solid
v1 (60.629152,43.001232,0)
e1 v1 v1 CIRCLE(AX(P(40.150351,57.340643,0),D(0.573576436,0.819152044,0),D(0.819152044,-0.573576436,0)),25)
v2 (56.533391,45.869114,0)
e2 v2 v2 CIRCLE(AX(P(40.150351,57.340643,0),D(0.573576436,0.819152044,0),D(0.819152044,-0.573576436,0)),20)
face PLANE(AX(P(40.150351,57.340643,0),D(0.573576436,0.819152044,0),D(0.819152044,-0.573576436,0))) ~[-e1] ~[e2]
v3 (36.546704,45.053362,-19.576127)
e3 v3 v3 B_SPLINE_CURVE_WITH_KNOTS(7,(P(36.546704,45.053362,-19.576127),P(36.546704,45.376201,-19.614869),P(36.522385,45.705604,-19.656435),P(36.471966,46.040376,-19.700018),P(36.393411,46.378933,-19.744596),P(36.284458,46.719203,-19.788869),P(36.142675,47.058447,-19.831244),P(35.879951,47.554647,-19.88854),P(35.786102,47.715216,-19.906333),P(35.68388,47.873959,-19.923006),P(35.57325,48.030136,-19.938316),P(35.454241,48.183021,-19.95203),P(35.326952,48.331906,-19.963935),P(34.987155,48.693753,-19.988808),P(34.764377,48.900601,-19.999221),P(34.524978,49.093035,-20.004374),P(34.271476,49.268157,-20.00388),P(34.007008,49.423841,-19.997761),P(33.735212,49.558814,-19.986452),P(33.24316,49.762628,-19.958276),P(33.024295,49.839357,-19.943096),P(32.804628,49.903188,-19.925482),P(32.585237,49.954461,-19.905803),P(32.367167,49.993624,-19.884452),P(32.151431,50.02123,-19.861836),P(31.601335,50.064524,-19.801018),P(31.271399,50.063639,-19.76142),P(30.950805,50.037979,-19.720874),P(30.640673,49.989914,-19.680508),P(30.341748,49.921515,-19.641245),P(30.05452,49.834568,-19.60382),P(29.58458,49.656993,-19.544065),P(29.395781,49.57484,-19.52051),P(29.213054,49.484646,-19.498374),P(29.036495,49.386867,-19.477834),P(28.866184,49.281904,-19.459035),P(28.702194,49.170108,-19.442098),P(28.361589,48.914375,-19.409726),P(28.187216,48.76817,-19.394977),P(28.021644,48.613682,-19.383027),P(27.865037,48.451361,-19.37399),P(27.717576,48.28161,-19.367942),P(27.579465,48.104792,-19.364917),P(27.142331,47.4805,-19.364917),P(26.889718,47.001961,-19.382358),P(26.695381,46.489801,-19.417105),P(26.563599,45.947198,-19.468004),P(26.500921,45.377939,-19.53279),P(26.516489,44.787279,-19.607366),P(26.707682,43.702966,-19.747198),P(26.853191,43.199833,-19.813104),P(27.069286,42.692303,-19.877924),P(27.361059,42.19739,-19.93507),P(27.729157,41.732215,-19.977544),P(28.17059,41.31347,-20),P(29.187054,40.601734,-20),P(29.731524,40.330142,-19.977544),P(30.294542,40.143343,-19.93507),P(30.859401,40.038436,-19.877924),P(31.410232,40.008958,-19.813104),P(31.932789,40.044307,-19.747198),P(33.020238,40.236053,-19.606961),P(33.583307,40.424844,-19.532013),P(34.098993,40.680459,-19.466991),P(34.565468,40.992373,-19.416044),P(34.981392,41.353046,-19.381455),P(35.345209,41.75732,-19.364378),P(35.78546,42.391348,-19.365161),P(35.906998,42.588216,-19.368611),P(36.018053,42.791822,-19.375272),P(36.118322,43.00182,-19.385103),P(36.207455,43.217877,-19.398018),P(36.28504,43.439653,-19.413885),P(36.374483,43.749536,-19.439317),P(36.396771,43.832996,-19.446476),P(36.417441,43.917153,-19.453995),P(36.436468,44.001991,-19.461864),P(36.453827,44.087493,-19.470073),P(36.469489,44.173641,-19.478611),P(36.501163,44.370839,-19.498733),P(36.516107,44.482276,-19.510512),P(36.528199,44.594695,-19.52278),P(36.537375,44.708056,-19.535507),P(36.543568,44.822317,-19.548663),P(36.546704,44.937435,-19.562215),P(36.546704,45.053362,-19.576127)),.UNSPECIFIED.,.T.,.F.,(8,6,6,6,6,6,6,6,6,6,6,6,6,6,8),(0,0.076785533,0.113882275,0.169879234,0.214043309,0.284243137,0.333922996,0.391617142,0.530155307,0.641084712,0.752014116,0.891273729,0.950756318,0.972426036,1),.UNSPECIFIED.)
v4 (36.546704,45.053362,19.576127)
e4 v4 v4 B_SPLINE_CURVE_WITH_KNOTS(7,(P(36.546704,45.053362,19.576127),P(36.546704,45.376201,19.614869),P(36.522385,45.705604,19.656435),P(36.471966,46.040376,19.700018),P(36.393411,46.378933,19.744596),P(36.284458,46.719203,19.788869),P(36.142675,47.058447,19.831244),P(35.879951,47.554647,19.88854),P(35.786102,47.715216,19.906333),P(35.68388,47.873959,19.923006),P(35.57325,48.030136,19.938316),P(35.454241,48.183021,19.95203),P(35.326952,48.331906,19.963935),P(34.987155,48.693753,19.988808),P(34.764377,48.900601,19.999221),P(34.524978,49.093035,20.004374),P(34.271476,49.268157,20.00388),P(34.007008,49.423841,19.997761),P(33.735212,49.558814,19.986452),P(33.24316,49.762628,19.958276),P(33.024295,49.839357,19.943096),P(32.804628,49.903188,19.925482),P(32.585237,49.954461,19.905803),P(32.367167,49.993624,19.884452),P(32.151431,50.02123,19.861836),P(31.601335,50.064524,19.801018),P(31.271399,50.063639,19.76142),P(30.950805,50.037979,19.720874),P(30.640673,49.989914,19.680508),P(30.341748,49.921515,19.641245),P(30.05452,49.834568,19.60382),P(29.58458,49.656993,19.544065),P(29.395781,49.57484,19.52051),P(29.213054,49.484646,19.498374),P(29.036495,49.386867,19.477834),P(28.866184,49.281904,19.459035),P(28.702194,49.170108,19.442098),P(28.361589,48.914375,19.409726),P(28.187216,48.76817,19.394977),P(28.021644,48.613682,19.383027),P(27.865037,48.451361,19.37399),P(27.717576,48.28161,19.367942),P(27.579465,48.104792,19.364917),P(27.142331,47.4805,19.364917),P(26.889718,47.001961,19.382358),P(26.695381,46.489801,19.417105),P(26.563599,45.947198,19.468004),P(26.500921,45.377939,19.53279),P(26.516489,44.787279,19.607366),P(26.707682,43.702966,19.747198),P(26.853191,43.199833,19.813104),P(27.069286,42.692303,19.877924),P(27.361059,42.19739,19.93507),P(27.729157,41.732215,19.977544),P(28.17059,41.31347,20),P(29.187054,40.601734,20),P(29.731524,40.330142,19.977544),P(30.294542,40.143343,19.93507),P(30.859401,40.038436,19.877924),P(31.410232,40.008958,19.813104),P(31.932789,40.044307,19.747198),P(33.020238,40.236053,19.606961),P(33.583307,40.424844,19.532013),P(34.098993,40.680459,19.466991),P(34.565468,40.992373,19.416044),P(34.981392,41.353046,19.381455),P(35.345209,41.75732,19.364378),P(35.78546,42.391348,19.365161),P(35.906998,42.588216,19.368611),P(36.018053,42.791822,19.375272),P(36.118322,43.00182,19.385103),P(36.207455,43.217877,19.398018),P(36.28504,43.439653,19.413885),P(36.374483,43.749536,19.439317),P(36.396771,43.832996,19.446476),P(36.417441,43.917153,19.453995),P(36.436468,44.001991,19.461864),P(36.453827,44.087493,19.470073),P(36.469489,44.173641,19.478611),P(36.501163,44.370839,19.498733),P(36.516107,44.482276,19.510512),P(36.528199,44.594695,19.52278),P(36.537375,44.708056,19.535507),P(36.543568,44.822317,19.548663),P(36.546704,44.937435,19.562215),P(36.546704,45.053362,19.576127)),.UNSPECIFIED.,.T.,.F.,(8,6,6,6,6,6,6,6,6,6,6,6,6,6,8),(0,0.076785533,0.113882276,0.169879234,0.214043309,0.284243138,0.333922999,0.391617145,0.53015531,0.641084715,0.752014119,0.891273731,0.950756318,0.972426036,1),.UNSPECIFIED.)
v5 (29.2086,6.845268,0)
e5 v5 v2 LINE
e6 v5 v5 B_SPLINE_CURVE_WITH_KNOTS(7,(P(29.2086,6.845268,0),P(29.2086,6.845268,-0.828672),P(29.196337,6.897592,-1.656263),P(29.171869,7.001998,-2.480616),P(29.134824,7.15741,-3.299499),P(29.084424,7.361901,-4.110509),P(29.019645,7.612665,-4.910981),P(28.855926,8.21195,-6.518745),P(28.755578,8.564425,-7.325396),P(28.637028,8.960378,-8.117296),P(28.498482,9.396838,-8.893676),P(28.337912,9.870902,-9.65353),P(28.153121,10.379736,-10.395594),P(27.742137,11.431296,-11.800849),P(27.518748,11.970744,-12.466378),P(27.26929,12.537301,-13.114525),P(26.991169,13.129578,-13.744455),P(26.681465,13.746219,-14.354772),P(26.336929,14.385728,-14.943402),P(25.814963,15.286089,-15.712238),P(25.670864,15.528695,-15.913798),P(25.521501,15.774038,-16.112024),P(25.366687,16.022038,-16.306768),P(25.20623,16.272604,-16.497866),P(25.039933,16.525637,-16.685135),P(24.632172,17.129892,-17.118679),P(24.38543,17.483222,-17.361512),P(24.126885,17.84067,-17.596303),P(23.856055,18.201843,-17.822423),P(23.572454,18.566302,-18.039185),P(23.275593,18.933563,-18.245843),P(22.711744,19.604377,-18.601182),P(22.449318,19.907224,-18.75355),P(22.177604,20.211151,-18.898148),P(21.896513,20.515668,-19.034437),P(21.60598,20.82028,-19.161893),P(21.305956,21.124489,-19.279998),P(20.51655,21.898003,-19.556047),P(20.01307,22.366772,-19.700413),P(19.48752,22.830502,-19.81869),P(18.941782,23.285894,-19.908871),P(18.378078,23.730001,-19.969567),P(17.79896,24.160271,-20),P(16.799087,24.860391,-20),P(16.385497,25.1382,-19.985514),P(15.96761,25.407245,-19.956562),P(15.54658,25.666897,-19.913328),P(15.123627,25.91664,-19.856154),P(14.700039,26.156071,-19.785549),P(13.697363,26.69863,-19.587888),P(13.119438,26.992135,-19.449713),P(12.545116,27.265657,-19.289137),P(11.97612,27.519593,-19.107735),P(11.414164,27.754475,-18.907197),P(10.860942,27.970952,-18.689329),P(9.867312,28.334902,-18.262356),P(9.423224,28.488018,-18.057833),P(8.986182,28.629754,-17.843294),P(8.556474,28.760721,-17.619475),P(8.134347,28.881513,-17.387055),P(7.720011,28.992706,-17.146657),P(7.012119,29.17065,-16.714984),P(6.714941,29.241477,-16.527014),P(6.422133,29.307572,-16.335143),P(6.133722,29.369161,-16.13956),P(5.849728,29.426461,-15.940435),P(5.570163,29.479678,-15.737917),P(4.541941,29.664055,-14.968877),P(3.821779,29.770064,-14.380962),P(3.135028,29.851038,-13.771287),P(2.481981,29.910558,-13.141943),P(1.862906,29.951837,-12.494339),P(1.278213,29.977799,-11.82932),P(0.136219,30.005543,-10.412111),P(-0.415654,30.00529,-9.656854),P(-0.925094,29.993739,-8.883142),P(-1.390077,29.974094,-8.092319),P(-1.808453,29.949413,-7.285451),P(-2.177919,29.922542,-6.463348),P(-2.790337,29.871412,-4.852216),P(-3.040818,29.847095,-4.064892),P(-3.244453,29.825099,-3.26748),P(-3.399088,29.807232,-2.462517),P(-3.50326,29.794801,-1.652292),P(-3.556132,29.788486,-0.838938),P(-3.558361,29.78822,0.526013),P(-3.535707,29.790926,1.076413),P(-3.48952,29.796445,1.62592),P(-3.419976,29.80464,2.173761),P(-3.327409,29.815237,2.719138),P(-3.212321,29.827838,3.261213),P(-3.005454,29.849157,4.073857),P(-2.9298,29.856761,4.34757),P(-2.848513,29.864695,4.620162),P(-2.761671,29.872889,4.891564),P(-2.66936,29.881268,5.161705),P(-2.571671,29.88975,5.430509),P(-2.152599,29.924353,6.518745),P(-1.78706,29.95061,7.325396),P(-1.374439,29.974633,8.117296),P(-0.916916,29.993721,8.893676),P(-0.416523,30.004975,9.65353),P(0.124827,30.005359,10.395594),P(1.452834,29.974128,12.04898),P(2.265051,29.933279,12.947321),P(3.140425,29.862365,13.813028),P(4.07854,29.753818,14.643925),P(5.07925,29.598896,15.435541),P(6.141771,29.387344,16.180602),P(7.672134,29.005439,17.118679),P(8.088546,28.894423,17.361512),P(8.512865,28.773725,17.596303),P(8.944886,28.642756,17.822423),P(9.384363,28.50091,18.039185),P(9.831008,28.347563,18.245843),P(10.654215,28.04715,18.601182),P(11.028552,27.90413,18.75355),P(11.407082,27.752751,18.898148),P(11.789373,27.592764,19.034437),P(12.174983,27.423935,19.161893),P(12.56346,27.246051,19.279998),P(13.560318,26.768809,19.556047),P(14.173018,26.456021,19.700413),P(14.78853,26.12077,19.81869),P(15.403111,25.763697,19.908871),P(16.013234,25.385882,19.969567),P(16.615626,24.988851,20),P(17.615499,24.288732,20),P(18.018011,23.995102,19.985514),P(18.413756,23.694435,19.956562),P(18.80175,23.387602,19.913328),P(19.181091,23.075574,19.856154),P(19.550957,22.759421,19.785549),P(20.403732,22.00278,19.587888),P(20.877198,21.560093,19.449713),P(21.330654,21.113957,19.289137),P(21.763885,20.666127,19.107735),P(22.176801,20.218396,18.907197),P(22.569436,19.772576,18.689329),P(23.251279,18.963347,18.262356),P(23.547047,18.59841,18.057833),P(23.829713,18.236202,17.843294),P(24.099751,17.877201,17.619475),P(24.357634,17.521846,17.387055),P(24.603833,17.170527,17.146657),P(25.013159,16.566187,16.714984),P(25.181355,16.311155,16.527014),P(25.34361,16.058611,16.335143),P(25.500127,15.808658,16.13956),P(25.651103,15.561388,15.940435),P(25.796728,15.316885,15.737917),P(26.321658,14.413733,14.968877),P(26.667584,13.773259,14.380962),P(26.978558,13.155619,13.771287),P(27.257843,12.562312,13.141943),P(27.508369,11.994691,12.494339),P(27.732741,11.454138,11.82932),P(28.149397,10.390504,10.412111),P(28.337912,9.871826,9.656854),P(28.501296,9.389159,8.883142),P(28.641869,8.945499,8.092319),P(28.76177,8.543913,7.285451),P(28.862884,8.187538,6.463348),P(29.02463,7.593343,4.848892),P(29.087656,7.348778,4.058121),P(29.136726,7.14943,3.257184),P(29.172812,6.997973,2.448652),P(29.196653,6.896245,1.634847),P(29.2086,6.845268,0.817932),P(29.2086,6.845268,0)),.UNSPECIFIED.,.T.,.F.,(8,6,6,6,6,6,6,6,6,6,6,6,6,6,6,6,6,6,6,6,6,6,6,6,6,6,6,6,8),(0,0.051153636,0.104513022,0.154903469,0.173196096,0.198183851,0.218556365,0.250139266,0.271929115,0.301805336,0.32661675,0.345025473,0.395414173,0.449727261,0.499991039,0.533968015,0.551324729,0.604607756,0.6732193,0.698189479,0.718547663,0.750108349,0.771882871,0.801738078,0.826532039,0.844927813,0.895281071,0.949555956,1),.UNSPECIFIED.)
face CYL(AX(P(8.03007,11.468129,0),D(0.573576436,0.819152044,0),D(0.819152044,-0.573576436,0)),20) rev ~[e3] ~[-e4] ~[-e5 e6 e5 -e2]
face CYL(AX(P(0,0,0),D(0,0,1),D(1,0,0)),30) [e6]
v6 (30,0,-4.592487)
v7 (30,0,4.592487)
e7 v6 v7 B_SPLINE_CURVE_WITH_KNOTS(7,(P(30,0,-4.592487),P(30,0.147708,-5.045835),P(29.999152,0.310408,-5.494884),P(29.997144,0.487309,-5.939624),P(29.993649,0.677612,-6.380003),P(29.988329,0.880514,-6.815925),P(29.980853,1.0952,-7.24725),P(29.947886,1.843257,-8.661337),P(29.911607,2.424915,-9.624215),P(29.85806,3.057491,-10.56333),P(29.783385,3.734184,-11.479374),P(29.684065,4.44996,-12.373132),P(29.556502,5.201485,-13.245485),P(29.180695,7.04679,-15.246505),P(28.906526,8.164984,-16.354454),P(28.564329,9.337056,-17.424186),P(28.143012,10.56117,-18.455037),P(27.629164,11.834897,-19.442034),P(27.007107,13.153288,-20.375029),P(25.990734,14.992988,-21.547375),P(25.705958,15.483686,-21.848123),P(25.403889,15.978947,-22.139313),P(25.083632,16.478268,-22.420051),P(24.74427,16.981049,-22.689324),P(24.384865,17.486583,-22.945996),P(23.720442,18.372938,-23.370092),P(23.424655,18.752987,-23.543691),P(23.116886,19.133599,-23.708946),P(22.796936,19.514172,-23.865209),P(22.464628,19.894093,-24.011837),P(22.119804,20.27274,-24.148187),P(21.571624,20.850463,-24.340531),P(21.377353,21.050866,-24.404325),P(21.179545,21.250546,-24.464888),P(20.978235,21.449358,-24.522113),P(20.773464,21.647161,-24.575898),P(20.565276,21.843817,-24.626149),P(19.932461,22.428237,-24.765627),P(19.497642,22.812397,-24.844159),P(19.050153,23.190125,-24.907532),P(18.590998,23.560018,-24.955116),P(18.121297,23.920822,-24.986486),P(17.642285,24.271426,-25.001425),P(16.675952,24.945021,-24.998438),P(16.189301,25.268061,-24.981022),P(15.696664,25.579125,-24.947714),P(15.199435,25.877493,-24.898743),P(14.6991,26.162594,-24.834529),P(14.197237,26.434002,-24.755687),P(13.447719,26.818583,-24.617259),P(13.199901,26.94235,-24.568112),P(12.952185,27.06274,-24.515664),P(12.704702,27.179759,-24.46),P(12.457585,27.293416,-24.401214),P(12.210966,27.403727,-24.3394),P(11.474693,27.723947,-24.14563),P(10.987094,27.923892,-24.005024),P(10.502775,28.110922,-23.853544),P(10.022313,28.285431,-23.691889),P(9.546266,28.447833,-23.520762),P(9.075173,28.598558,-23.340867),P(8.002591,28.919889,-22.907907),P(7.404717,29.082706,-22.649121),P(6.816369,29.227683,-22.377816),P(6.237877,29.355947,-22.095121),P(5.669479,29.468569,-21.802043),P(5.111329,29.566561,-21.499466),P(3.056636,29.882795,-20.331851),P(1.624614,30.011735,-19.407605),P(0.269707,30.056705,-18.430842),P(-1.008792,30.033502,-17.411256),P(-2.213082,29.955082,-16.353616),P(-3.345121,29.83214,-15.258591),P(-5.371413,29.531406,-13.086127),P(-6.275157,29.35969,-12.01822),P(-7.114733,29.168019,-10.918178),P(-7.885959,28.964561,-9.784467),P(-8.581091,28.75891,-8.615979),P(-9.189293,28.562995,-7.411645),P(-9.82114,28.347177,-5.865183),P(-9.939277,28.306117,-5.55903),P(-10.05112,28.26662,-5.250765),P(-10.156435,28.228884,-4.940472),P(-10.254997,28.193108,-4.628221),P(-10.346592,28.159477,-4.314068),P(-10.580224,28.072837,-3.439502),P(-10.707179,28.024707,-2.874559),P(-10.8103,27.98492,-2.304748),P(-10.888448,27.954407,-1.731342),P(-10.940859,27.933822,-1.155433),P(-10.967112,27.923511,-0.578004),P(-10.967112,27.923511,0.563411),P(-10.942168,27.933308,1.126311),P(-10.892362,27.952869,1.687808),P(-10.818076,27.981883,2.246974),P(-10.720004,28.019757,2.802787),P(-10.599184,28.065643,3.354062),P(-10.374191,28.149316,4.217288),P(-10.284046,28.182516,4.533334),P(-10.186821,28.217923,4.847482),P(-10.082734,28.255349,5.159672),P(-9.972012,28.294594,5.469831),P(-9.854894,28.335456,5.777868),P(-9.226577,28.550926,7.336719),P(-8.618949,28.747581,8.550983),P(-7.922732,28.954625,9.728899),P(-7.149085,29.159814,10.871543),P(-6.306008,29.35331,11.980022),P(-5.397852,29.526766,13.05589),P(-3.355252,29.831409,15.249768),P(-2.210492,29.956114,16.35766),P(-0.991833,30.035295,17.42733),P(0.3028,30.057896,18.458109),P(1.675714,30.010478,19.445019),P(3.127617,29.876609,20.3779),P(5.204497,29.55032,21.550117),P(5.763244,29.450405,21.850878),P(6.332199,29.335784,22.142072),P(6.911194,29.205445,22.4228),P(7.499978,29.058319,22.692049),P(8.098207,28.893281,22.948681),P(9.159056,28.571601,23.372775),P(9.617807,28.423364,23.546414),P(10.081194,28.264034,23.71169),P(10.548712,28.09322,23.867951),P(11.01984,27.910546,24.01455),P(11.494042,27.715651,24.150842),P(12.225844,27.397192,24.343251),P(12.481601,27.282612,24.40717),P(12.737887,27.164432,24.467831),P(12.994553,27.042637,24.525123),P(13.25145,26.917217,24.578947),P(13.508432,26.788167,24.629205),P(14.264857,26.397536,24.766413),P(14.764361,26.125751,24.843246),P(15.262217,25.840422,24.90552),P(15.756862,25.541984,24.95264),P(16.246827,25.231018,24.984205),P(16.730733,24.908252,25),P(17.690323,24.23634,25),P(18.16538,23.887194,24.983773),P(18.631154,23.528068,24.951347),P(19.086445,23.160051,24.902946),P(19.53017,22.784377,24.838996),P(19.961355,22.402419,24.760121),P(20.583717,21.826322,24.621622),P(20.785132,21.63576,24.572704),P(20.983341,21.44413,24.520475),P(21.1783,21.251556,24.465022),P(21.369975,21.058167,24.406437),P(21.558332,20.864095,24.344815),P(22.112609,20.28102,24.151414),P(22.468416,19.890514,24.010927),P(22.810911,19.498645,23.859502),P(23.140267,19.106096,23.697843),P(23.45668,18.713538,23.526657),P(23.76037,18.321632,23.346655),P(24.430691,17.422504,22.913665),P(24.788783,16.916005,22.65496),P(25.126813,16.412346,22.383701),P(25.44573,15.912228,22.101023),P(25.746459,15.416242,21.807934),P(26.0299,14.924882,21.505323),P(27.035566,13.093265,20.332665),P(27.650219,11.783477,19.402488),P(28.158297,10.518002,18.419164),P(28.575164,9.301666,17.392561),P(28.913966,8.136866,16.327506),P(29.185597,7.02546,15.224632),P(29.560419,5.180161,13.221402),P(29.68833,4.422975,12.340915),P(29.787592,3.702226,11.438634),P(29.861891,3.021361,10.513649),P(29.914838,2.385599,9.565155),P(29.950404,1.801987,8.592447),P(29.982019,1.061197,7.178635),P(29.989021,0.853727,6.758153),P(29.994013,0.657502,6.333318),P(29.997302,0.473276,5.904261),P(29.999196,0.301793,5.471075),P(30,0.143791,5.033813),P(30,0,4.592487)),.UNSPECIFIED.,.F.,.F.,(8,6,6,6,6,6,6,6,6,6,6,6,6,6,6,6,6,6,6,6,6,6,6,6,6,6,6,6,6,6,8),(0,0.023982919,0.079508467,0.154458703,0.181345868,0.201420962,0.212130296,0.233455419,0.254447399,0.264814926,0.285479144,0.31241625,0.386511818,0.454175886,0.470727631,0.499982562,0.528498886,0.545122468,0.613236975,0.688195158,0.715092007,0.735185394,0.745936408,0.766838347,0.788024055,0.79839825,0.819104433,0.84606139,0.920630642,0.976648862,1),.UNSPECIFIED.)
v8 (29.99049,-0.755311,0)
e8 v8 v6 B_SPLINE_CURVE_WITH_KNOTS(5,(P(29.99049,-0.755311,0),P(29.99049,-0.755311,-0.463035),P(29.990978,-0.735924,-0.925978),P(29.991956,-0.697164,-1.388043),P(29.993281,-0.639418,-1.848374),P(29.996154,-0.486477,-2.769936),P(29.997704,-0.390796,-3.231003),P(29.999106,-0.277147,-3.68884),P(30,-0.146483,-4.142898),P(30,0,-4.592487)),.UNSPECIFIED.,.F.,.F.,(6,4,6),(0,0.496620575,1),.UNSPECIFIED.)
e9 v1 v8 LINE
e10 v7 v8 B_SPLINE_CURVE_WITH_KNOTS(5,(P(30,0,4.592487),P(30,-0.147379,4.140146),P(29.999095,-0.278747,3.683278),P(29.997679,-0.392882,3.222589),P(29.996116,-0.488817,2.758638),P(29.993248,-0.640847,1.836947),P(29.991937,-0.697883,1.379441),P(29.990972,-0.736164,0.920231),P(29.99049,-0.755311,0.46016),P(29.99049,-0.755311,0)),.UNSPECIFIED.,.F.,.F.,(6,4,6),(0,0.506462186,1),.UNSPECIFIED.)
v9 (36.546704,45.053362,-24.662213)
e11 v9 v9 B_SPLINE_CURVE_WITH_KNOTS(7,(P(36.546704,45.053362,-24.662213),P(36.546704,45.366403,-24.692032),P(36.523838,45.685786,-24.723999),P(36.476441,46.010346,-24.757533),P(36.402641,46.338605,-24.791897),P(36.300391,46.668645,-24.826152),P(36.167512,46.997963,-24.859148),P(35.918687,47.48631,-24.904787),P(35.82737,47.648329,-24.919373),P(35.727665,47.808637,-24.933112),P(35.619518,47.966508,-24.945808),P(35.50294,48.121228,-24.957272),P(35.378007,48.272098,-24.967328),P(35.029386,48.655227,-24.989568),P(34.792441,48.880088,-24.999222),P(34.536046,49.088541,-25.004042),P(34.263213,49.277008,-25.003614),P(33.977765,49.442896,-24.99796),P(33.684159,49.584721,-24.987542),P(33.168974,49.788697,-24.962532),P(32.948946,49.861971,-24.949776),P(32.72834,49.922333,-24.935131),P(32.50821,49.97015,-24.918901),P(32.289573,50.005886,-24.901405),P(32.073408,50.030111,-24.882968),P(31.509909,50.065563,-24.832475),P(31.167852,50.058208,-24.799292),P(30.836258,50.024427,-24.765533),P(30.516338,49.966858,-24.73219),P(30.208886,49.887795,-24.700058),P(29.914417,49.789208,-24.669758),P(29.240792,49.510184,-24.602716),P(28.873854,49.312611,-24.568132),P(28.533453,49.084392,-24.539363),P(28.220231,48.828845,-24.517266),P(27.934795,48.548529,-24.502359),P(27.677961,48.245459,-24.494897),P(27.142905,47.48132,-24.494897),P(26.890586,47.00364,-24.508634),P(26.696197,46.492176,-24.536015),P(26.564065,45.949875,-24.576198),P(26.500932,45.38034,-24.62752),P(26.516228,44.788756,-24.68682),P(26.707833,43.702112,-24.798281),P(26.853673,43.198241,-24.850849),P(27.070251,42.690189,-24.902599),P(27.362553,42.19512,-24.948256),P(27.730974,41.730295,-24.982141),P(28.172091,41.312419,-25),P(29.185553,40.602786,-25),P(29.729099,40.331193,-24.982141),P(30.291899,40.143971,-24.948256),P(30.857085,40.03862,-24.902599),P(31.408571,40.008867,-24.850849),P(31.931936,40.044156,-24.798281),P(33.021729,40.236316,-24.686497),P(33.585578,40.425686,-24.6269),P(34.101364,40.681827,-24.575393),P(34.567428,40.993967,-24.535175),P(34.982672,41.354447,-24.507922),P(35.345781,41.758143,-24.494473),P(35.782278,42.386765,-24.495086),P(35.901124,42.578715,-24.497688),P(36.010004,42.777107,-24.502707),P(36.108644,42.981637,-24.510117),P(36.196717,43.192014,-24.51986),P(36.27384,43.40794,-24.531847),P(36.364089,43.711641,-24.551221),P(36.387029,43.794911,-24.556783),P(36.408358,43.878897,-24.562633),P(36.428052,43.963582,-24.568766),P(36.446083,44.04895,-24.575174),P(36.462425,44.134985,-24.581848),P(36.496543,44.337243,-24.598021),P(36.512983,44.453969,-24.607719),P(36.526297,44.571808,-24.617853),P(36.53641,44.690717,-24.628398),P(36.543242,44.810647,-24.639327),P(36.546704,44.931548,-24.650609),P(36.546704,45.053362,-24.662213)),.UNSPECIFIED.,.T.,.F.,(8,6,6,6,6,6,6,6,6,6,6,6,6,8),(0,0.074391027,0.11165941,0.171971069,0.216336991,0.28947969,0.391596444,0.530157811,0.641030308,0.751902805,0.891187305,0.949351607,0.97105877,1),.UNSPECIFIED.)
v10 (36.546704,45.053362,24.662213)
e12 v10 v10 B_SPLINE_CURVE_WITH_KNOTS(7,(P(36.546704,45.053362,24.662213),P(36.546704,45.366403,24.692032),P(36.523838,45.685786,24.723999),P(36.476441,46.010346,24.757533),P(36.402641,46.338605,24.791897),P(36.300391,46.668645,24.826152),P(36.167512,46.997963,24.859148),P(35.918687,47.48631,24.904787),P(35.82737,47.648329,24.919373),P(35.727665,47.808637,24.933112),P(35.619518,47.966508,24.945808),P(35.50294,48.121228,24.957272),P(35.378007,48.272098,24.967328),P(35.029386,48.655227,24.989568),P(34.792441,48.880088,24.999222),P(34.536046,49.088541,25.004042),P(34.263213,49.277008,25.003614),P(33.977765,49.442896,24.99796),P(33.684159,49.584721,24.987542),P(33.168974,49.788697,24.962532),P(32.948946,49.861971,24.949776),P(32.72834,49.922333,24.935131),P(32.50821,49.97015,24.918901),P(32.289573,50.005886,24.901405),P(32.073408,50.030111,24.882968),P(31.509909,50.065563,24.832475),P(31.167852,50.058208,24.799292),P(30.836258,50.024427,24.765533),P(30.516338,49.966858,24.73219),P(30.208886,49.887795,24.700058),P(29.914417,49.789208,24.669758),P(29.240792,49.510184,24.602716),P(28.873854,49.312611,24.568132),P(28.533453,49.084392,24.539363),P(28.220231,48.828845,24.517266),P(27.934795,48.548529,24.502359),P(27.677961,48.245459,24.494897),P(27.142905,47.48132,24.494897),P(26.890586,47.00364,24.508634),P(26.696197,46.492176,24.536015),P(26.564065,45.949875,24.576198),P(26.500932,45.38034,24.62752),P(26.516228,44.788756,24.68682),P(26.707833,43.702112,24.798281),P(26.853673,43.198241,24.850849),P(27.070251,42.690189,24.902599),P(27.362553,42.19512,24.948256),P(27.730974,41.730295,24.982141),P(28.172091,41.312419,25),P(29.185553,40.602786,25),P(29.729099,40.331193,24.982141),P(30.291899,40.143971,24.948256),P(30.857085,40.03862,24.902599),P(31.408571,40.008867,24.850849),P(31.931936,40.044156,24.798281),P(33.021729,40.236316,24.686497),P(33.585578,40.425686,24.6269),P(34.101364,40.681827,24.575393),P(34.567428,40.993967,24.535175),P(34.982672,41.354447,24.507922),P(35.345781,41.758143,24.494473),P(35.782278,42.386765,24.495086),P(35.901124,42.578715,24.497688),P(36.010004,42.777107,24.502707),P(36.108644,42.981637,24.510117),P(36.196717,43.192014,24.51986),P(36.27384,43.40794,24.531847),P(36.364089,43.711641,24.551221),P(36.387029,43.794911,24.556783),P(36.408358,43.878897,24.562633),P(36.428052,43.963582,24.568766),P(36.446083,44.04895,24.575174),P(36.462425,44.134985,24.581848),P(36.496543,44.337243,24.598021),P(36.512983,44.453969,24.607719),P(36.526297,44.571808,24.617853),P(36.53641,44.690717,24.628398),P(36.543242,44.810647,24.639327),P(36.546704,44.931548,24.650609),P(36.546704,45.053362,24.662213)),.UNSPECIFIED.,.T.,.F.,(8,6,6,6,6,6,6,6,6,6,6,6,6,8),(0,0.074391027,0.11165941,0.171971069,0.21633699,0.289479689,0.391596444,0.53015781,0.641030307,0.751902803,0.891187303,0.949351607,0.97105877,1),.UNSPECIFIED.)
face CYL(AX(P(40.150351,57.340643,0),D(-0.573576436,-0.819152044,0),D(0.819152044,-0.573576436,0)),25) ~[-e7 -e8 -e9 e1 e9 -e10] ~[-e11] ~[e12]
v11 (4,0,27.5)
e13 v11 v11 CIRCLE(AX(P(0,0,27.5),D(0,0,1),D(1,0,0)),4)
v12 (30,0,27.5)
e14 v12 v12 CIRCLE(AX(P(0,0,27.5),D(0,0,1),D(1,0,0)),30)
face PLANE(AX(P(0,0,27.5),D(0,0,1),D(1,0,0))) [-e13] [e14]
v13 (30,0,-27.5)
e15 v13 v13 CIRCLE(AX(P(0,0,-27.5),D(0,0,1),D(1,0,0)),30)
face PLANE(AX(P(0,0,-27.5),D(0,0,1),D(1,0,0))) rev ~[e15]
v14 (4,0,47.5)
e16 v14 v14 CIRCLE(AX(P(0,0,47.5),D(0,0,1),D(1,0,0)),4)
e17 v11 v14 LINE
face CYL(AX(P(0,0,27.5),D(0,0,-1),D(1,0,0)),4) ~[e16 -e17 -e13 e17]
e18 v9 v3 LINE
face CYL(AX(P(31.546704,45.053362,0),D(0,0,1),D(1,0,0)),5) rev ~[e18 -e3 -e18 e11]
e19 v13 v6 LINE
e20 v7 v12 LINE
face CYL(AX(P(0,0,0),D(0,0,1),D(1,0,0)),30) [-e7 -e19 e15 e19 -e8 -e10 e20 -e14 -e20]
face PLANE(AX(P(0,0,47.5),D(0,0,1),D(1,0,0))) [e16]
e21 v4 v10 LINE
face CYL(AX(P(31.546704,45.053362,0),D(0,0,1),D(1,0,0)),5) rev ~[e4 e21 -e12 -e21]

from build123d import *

# Parameters (mm, degrees)
SKETCH1_R           = 30
BOSS_EXTRUDE1_DEPTH = 27.5
SKETCH3_R           = 5
CUT_EXTRUDE1_DEPTH  = 30
SKETCH5_R           = 4
BOSS_EXTRUDE2_DEPTH = 20


with BuildPart() as part:
    # Sketch1 → Boss-Extrude1 (new, symmetric)
    with BuildSketch(Plane.XY):
        Circle(SKETCH1_R)
    extrude(amount=BOSS_EXTRUDE1_DEPTH, both=True)

    # Sketch2 → Revolve2 (revolve)
    with BuildSketch(Plane.XY):
        Polygon((56.53339143, 45.869114373), (60.629151652, 43.001232191), (28.508871216, -2.871282289), (24.413110995, -0.003400107), align=None)
    revolve(axis=Axis((0, 0, 0), (0.5735764363510413, 0.8191520442889952, 0)))

    # Sketch3 → Cut-Extrude1 (cut, symmetric)
    with BuildSketch(Plane.XY):
        with Locations((31.546703999, 45.053362436)):
            Circle(SKETCH3_R)
    extrude(amount=CUT_EXTRUDE1_DEPTH, both=True, mode=Mode.SUBTRACT)

    # Sketch5 → Boss-Extrude2 (add)
    with BuildSketch(Plane.XY.offset(27.5)):
        Circle(SKETCH5_R)
    extrude(amount=BOSS_EXTRUDE2_DEPTH)


solid = part.part
